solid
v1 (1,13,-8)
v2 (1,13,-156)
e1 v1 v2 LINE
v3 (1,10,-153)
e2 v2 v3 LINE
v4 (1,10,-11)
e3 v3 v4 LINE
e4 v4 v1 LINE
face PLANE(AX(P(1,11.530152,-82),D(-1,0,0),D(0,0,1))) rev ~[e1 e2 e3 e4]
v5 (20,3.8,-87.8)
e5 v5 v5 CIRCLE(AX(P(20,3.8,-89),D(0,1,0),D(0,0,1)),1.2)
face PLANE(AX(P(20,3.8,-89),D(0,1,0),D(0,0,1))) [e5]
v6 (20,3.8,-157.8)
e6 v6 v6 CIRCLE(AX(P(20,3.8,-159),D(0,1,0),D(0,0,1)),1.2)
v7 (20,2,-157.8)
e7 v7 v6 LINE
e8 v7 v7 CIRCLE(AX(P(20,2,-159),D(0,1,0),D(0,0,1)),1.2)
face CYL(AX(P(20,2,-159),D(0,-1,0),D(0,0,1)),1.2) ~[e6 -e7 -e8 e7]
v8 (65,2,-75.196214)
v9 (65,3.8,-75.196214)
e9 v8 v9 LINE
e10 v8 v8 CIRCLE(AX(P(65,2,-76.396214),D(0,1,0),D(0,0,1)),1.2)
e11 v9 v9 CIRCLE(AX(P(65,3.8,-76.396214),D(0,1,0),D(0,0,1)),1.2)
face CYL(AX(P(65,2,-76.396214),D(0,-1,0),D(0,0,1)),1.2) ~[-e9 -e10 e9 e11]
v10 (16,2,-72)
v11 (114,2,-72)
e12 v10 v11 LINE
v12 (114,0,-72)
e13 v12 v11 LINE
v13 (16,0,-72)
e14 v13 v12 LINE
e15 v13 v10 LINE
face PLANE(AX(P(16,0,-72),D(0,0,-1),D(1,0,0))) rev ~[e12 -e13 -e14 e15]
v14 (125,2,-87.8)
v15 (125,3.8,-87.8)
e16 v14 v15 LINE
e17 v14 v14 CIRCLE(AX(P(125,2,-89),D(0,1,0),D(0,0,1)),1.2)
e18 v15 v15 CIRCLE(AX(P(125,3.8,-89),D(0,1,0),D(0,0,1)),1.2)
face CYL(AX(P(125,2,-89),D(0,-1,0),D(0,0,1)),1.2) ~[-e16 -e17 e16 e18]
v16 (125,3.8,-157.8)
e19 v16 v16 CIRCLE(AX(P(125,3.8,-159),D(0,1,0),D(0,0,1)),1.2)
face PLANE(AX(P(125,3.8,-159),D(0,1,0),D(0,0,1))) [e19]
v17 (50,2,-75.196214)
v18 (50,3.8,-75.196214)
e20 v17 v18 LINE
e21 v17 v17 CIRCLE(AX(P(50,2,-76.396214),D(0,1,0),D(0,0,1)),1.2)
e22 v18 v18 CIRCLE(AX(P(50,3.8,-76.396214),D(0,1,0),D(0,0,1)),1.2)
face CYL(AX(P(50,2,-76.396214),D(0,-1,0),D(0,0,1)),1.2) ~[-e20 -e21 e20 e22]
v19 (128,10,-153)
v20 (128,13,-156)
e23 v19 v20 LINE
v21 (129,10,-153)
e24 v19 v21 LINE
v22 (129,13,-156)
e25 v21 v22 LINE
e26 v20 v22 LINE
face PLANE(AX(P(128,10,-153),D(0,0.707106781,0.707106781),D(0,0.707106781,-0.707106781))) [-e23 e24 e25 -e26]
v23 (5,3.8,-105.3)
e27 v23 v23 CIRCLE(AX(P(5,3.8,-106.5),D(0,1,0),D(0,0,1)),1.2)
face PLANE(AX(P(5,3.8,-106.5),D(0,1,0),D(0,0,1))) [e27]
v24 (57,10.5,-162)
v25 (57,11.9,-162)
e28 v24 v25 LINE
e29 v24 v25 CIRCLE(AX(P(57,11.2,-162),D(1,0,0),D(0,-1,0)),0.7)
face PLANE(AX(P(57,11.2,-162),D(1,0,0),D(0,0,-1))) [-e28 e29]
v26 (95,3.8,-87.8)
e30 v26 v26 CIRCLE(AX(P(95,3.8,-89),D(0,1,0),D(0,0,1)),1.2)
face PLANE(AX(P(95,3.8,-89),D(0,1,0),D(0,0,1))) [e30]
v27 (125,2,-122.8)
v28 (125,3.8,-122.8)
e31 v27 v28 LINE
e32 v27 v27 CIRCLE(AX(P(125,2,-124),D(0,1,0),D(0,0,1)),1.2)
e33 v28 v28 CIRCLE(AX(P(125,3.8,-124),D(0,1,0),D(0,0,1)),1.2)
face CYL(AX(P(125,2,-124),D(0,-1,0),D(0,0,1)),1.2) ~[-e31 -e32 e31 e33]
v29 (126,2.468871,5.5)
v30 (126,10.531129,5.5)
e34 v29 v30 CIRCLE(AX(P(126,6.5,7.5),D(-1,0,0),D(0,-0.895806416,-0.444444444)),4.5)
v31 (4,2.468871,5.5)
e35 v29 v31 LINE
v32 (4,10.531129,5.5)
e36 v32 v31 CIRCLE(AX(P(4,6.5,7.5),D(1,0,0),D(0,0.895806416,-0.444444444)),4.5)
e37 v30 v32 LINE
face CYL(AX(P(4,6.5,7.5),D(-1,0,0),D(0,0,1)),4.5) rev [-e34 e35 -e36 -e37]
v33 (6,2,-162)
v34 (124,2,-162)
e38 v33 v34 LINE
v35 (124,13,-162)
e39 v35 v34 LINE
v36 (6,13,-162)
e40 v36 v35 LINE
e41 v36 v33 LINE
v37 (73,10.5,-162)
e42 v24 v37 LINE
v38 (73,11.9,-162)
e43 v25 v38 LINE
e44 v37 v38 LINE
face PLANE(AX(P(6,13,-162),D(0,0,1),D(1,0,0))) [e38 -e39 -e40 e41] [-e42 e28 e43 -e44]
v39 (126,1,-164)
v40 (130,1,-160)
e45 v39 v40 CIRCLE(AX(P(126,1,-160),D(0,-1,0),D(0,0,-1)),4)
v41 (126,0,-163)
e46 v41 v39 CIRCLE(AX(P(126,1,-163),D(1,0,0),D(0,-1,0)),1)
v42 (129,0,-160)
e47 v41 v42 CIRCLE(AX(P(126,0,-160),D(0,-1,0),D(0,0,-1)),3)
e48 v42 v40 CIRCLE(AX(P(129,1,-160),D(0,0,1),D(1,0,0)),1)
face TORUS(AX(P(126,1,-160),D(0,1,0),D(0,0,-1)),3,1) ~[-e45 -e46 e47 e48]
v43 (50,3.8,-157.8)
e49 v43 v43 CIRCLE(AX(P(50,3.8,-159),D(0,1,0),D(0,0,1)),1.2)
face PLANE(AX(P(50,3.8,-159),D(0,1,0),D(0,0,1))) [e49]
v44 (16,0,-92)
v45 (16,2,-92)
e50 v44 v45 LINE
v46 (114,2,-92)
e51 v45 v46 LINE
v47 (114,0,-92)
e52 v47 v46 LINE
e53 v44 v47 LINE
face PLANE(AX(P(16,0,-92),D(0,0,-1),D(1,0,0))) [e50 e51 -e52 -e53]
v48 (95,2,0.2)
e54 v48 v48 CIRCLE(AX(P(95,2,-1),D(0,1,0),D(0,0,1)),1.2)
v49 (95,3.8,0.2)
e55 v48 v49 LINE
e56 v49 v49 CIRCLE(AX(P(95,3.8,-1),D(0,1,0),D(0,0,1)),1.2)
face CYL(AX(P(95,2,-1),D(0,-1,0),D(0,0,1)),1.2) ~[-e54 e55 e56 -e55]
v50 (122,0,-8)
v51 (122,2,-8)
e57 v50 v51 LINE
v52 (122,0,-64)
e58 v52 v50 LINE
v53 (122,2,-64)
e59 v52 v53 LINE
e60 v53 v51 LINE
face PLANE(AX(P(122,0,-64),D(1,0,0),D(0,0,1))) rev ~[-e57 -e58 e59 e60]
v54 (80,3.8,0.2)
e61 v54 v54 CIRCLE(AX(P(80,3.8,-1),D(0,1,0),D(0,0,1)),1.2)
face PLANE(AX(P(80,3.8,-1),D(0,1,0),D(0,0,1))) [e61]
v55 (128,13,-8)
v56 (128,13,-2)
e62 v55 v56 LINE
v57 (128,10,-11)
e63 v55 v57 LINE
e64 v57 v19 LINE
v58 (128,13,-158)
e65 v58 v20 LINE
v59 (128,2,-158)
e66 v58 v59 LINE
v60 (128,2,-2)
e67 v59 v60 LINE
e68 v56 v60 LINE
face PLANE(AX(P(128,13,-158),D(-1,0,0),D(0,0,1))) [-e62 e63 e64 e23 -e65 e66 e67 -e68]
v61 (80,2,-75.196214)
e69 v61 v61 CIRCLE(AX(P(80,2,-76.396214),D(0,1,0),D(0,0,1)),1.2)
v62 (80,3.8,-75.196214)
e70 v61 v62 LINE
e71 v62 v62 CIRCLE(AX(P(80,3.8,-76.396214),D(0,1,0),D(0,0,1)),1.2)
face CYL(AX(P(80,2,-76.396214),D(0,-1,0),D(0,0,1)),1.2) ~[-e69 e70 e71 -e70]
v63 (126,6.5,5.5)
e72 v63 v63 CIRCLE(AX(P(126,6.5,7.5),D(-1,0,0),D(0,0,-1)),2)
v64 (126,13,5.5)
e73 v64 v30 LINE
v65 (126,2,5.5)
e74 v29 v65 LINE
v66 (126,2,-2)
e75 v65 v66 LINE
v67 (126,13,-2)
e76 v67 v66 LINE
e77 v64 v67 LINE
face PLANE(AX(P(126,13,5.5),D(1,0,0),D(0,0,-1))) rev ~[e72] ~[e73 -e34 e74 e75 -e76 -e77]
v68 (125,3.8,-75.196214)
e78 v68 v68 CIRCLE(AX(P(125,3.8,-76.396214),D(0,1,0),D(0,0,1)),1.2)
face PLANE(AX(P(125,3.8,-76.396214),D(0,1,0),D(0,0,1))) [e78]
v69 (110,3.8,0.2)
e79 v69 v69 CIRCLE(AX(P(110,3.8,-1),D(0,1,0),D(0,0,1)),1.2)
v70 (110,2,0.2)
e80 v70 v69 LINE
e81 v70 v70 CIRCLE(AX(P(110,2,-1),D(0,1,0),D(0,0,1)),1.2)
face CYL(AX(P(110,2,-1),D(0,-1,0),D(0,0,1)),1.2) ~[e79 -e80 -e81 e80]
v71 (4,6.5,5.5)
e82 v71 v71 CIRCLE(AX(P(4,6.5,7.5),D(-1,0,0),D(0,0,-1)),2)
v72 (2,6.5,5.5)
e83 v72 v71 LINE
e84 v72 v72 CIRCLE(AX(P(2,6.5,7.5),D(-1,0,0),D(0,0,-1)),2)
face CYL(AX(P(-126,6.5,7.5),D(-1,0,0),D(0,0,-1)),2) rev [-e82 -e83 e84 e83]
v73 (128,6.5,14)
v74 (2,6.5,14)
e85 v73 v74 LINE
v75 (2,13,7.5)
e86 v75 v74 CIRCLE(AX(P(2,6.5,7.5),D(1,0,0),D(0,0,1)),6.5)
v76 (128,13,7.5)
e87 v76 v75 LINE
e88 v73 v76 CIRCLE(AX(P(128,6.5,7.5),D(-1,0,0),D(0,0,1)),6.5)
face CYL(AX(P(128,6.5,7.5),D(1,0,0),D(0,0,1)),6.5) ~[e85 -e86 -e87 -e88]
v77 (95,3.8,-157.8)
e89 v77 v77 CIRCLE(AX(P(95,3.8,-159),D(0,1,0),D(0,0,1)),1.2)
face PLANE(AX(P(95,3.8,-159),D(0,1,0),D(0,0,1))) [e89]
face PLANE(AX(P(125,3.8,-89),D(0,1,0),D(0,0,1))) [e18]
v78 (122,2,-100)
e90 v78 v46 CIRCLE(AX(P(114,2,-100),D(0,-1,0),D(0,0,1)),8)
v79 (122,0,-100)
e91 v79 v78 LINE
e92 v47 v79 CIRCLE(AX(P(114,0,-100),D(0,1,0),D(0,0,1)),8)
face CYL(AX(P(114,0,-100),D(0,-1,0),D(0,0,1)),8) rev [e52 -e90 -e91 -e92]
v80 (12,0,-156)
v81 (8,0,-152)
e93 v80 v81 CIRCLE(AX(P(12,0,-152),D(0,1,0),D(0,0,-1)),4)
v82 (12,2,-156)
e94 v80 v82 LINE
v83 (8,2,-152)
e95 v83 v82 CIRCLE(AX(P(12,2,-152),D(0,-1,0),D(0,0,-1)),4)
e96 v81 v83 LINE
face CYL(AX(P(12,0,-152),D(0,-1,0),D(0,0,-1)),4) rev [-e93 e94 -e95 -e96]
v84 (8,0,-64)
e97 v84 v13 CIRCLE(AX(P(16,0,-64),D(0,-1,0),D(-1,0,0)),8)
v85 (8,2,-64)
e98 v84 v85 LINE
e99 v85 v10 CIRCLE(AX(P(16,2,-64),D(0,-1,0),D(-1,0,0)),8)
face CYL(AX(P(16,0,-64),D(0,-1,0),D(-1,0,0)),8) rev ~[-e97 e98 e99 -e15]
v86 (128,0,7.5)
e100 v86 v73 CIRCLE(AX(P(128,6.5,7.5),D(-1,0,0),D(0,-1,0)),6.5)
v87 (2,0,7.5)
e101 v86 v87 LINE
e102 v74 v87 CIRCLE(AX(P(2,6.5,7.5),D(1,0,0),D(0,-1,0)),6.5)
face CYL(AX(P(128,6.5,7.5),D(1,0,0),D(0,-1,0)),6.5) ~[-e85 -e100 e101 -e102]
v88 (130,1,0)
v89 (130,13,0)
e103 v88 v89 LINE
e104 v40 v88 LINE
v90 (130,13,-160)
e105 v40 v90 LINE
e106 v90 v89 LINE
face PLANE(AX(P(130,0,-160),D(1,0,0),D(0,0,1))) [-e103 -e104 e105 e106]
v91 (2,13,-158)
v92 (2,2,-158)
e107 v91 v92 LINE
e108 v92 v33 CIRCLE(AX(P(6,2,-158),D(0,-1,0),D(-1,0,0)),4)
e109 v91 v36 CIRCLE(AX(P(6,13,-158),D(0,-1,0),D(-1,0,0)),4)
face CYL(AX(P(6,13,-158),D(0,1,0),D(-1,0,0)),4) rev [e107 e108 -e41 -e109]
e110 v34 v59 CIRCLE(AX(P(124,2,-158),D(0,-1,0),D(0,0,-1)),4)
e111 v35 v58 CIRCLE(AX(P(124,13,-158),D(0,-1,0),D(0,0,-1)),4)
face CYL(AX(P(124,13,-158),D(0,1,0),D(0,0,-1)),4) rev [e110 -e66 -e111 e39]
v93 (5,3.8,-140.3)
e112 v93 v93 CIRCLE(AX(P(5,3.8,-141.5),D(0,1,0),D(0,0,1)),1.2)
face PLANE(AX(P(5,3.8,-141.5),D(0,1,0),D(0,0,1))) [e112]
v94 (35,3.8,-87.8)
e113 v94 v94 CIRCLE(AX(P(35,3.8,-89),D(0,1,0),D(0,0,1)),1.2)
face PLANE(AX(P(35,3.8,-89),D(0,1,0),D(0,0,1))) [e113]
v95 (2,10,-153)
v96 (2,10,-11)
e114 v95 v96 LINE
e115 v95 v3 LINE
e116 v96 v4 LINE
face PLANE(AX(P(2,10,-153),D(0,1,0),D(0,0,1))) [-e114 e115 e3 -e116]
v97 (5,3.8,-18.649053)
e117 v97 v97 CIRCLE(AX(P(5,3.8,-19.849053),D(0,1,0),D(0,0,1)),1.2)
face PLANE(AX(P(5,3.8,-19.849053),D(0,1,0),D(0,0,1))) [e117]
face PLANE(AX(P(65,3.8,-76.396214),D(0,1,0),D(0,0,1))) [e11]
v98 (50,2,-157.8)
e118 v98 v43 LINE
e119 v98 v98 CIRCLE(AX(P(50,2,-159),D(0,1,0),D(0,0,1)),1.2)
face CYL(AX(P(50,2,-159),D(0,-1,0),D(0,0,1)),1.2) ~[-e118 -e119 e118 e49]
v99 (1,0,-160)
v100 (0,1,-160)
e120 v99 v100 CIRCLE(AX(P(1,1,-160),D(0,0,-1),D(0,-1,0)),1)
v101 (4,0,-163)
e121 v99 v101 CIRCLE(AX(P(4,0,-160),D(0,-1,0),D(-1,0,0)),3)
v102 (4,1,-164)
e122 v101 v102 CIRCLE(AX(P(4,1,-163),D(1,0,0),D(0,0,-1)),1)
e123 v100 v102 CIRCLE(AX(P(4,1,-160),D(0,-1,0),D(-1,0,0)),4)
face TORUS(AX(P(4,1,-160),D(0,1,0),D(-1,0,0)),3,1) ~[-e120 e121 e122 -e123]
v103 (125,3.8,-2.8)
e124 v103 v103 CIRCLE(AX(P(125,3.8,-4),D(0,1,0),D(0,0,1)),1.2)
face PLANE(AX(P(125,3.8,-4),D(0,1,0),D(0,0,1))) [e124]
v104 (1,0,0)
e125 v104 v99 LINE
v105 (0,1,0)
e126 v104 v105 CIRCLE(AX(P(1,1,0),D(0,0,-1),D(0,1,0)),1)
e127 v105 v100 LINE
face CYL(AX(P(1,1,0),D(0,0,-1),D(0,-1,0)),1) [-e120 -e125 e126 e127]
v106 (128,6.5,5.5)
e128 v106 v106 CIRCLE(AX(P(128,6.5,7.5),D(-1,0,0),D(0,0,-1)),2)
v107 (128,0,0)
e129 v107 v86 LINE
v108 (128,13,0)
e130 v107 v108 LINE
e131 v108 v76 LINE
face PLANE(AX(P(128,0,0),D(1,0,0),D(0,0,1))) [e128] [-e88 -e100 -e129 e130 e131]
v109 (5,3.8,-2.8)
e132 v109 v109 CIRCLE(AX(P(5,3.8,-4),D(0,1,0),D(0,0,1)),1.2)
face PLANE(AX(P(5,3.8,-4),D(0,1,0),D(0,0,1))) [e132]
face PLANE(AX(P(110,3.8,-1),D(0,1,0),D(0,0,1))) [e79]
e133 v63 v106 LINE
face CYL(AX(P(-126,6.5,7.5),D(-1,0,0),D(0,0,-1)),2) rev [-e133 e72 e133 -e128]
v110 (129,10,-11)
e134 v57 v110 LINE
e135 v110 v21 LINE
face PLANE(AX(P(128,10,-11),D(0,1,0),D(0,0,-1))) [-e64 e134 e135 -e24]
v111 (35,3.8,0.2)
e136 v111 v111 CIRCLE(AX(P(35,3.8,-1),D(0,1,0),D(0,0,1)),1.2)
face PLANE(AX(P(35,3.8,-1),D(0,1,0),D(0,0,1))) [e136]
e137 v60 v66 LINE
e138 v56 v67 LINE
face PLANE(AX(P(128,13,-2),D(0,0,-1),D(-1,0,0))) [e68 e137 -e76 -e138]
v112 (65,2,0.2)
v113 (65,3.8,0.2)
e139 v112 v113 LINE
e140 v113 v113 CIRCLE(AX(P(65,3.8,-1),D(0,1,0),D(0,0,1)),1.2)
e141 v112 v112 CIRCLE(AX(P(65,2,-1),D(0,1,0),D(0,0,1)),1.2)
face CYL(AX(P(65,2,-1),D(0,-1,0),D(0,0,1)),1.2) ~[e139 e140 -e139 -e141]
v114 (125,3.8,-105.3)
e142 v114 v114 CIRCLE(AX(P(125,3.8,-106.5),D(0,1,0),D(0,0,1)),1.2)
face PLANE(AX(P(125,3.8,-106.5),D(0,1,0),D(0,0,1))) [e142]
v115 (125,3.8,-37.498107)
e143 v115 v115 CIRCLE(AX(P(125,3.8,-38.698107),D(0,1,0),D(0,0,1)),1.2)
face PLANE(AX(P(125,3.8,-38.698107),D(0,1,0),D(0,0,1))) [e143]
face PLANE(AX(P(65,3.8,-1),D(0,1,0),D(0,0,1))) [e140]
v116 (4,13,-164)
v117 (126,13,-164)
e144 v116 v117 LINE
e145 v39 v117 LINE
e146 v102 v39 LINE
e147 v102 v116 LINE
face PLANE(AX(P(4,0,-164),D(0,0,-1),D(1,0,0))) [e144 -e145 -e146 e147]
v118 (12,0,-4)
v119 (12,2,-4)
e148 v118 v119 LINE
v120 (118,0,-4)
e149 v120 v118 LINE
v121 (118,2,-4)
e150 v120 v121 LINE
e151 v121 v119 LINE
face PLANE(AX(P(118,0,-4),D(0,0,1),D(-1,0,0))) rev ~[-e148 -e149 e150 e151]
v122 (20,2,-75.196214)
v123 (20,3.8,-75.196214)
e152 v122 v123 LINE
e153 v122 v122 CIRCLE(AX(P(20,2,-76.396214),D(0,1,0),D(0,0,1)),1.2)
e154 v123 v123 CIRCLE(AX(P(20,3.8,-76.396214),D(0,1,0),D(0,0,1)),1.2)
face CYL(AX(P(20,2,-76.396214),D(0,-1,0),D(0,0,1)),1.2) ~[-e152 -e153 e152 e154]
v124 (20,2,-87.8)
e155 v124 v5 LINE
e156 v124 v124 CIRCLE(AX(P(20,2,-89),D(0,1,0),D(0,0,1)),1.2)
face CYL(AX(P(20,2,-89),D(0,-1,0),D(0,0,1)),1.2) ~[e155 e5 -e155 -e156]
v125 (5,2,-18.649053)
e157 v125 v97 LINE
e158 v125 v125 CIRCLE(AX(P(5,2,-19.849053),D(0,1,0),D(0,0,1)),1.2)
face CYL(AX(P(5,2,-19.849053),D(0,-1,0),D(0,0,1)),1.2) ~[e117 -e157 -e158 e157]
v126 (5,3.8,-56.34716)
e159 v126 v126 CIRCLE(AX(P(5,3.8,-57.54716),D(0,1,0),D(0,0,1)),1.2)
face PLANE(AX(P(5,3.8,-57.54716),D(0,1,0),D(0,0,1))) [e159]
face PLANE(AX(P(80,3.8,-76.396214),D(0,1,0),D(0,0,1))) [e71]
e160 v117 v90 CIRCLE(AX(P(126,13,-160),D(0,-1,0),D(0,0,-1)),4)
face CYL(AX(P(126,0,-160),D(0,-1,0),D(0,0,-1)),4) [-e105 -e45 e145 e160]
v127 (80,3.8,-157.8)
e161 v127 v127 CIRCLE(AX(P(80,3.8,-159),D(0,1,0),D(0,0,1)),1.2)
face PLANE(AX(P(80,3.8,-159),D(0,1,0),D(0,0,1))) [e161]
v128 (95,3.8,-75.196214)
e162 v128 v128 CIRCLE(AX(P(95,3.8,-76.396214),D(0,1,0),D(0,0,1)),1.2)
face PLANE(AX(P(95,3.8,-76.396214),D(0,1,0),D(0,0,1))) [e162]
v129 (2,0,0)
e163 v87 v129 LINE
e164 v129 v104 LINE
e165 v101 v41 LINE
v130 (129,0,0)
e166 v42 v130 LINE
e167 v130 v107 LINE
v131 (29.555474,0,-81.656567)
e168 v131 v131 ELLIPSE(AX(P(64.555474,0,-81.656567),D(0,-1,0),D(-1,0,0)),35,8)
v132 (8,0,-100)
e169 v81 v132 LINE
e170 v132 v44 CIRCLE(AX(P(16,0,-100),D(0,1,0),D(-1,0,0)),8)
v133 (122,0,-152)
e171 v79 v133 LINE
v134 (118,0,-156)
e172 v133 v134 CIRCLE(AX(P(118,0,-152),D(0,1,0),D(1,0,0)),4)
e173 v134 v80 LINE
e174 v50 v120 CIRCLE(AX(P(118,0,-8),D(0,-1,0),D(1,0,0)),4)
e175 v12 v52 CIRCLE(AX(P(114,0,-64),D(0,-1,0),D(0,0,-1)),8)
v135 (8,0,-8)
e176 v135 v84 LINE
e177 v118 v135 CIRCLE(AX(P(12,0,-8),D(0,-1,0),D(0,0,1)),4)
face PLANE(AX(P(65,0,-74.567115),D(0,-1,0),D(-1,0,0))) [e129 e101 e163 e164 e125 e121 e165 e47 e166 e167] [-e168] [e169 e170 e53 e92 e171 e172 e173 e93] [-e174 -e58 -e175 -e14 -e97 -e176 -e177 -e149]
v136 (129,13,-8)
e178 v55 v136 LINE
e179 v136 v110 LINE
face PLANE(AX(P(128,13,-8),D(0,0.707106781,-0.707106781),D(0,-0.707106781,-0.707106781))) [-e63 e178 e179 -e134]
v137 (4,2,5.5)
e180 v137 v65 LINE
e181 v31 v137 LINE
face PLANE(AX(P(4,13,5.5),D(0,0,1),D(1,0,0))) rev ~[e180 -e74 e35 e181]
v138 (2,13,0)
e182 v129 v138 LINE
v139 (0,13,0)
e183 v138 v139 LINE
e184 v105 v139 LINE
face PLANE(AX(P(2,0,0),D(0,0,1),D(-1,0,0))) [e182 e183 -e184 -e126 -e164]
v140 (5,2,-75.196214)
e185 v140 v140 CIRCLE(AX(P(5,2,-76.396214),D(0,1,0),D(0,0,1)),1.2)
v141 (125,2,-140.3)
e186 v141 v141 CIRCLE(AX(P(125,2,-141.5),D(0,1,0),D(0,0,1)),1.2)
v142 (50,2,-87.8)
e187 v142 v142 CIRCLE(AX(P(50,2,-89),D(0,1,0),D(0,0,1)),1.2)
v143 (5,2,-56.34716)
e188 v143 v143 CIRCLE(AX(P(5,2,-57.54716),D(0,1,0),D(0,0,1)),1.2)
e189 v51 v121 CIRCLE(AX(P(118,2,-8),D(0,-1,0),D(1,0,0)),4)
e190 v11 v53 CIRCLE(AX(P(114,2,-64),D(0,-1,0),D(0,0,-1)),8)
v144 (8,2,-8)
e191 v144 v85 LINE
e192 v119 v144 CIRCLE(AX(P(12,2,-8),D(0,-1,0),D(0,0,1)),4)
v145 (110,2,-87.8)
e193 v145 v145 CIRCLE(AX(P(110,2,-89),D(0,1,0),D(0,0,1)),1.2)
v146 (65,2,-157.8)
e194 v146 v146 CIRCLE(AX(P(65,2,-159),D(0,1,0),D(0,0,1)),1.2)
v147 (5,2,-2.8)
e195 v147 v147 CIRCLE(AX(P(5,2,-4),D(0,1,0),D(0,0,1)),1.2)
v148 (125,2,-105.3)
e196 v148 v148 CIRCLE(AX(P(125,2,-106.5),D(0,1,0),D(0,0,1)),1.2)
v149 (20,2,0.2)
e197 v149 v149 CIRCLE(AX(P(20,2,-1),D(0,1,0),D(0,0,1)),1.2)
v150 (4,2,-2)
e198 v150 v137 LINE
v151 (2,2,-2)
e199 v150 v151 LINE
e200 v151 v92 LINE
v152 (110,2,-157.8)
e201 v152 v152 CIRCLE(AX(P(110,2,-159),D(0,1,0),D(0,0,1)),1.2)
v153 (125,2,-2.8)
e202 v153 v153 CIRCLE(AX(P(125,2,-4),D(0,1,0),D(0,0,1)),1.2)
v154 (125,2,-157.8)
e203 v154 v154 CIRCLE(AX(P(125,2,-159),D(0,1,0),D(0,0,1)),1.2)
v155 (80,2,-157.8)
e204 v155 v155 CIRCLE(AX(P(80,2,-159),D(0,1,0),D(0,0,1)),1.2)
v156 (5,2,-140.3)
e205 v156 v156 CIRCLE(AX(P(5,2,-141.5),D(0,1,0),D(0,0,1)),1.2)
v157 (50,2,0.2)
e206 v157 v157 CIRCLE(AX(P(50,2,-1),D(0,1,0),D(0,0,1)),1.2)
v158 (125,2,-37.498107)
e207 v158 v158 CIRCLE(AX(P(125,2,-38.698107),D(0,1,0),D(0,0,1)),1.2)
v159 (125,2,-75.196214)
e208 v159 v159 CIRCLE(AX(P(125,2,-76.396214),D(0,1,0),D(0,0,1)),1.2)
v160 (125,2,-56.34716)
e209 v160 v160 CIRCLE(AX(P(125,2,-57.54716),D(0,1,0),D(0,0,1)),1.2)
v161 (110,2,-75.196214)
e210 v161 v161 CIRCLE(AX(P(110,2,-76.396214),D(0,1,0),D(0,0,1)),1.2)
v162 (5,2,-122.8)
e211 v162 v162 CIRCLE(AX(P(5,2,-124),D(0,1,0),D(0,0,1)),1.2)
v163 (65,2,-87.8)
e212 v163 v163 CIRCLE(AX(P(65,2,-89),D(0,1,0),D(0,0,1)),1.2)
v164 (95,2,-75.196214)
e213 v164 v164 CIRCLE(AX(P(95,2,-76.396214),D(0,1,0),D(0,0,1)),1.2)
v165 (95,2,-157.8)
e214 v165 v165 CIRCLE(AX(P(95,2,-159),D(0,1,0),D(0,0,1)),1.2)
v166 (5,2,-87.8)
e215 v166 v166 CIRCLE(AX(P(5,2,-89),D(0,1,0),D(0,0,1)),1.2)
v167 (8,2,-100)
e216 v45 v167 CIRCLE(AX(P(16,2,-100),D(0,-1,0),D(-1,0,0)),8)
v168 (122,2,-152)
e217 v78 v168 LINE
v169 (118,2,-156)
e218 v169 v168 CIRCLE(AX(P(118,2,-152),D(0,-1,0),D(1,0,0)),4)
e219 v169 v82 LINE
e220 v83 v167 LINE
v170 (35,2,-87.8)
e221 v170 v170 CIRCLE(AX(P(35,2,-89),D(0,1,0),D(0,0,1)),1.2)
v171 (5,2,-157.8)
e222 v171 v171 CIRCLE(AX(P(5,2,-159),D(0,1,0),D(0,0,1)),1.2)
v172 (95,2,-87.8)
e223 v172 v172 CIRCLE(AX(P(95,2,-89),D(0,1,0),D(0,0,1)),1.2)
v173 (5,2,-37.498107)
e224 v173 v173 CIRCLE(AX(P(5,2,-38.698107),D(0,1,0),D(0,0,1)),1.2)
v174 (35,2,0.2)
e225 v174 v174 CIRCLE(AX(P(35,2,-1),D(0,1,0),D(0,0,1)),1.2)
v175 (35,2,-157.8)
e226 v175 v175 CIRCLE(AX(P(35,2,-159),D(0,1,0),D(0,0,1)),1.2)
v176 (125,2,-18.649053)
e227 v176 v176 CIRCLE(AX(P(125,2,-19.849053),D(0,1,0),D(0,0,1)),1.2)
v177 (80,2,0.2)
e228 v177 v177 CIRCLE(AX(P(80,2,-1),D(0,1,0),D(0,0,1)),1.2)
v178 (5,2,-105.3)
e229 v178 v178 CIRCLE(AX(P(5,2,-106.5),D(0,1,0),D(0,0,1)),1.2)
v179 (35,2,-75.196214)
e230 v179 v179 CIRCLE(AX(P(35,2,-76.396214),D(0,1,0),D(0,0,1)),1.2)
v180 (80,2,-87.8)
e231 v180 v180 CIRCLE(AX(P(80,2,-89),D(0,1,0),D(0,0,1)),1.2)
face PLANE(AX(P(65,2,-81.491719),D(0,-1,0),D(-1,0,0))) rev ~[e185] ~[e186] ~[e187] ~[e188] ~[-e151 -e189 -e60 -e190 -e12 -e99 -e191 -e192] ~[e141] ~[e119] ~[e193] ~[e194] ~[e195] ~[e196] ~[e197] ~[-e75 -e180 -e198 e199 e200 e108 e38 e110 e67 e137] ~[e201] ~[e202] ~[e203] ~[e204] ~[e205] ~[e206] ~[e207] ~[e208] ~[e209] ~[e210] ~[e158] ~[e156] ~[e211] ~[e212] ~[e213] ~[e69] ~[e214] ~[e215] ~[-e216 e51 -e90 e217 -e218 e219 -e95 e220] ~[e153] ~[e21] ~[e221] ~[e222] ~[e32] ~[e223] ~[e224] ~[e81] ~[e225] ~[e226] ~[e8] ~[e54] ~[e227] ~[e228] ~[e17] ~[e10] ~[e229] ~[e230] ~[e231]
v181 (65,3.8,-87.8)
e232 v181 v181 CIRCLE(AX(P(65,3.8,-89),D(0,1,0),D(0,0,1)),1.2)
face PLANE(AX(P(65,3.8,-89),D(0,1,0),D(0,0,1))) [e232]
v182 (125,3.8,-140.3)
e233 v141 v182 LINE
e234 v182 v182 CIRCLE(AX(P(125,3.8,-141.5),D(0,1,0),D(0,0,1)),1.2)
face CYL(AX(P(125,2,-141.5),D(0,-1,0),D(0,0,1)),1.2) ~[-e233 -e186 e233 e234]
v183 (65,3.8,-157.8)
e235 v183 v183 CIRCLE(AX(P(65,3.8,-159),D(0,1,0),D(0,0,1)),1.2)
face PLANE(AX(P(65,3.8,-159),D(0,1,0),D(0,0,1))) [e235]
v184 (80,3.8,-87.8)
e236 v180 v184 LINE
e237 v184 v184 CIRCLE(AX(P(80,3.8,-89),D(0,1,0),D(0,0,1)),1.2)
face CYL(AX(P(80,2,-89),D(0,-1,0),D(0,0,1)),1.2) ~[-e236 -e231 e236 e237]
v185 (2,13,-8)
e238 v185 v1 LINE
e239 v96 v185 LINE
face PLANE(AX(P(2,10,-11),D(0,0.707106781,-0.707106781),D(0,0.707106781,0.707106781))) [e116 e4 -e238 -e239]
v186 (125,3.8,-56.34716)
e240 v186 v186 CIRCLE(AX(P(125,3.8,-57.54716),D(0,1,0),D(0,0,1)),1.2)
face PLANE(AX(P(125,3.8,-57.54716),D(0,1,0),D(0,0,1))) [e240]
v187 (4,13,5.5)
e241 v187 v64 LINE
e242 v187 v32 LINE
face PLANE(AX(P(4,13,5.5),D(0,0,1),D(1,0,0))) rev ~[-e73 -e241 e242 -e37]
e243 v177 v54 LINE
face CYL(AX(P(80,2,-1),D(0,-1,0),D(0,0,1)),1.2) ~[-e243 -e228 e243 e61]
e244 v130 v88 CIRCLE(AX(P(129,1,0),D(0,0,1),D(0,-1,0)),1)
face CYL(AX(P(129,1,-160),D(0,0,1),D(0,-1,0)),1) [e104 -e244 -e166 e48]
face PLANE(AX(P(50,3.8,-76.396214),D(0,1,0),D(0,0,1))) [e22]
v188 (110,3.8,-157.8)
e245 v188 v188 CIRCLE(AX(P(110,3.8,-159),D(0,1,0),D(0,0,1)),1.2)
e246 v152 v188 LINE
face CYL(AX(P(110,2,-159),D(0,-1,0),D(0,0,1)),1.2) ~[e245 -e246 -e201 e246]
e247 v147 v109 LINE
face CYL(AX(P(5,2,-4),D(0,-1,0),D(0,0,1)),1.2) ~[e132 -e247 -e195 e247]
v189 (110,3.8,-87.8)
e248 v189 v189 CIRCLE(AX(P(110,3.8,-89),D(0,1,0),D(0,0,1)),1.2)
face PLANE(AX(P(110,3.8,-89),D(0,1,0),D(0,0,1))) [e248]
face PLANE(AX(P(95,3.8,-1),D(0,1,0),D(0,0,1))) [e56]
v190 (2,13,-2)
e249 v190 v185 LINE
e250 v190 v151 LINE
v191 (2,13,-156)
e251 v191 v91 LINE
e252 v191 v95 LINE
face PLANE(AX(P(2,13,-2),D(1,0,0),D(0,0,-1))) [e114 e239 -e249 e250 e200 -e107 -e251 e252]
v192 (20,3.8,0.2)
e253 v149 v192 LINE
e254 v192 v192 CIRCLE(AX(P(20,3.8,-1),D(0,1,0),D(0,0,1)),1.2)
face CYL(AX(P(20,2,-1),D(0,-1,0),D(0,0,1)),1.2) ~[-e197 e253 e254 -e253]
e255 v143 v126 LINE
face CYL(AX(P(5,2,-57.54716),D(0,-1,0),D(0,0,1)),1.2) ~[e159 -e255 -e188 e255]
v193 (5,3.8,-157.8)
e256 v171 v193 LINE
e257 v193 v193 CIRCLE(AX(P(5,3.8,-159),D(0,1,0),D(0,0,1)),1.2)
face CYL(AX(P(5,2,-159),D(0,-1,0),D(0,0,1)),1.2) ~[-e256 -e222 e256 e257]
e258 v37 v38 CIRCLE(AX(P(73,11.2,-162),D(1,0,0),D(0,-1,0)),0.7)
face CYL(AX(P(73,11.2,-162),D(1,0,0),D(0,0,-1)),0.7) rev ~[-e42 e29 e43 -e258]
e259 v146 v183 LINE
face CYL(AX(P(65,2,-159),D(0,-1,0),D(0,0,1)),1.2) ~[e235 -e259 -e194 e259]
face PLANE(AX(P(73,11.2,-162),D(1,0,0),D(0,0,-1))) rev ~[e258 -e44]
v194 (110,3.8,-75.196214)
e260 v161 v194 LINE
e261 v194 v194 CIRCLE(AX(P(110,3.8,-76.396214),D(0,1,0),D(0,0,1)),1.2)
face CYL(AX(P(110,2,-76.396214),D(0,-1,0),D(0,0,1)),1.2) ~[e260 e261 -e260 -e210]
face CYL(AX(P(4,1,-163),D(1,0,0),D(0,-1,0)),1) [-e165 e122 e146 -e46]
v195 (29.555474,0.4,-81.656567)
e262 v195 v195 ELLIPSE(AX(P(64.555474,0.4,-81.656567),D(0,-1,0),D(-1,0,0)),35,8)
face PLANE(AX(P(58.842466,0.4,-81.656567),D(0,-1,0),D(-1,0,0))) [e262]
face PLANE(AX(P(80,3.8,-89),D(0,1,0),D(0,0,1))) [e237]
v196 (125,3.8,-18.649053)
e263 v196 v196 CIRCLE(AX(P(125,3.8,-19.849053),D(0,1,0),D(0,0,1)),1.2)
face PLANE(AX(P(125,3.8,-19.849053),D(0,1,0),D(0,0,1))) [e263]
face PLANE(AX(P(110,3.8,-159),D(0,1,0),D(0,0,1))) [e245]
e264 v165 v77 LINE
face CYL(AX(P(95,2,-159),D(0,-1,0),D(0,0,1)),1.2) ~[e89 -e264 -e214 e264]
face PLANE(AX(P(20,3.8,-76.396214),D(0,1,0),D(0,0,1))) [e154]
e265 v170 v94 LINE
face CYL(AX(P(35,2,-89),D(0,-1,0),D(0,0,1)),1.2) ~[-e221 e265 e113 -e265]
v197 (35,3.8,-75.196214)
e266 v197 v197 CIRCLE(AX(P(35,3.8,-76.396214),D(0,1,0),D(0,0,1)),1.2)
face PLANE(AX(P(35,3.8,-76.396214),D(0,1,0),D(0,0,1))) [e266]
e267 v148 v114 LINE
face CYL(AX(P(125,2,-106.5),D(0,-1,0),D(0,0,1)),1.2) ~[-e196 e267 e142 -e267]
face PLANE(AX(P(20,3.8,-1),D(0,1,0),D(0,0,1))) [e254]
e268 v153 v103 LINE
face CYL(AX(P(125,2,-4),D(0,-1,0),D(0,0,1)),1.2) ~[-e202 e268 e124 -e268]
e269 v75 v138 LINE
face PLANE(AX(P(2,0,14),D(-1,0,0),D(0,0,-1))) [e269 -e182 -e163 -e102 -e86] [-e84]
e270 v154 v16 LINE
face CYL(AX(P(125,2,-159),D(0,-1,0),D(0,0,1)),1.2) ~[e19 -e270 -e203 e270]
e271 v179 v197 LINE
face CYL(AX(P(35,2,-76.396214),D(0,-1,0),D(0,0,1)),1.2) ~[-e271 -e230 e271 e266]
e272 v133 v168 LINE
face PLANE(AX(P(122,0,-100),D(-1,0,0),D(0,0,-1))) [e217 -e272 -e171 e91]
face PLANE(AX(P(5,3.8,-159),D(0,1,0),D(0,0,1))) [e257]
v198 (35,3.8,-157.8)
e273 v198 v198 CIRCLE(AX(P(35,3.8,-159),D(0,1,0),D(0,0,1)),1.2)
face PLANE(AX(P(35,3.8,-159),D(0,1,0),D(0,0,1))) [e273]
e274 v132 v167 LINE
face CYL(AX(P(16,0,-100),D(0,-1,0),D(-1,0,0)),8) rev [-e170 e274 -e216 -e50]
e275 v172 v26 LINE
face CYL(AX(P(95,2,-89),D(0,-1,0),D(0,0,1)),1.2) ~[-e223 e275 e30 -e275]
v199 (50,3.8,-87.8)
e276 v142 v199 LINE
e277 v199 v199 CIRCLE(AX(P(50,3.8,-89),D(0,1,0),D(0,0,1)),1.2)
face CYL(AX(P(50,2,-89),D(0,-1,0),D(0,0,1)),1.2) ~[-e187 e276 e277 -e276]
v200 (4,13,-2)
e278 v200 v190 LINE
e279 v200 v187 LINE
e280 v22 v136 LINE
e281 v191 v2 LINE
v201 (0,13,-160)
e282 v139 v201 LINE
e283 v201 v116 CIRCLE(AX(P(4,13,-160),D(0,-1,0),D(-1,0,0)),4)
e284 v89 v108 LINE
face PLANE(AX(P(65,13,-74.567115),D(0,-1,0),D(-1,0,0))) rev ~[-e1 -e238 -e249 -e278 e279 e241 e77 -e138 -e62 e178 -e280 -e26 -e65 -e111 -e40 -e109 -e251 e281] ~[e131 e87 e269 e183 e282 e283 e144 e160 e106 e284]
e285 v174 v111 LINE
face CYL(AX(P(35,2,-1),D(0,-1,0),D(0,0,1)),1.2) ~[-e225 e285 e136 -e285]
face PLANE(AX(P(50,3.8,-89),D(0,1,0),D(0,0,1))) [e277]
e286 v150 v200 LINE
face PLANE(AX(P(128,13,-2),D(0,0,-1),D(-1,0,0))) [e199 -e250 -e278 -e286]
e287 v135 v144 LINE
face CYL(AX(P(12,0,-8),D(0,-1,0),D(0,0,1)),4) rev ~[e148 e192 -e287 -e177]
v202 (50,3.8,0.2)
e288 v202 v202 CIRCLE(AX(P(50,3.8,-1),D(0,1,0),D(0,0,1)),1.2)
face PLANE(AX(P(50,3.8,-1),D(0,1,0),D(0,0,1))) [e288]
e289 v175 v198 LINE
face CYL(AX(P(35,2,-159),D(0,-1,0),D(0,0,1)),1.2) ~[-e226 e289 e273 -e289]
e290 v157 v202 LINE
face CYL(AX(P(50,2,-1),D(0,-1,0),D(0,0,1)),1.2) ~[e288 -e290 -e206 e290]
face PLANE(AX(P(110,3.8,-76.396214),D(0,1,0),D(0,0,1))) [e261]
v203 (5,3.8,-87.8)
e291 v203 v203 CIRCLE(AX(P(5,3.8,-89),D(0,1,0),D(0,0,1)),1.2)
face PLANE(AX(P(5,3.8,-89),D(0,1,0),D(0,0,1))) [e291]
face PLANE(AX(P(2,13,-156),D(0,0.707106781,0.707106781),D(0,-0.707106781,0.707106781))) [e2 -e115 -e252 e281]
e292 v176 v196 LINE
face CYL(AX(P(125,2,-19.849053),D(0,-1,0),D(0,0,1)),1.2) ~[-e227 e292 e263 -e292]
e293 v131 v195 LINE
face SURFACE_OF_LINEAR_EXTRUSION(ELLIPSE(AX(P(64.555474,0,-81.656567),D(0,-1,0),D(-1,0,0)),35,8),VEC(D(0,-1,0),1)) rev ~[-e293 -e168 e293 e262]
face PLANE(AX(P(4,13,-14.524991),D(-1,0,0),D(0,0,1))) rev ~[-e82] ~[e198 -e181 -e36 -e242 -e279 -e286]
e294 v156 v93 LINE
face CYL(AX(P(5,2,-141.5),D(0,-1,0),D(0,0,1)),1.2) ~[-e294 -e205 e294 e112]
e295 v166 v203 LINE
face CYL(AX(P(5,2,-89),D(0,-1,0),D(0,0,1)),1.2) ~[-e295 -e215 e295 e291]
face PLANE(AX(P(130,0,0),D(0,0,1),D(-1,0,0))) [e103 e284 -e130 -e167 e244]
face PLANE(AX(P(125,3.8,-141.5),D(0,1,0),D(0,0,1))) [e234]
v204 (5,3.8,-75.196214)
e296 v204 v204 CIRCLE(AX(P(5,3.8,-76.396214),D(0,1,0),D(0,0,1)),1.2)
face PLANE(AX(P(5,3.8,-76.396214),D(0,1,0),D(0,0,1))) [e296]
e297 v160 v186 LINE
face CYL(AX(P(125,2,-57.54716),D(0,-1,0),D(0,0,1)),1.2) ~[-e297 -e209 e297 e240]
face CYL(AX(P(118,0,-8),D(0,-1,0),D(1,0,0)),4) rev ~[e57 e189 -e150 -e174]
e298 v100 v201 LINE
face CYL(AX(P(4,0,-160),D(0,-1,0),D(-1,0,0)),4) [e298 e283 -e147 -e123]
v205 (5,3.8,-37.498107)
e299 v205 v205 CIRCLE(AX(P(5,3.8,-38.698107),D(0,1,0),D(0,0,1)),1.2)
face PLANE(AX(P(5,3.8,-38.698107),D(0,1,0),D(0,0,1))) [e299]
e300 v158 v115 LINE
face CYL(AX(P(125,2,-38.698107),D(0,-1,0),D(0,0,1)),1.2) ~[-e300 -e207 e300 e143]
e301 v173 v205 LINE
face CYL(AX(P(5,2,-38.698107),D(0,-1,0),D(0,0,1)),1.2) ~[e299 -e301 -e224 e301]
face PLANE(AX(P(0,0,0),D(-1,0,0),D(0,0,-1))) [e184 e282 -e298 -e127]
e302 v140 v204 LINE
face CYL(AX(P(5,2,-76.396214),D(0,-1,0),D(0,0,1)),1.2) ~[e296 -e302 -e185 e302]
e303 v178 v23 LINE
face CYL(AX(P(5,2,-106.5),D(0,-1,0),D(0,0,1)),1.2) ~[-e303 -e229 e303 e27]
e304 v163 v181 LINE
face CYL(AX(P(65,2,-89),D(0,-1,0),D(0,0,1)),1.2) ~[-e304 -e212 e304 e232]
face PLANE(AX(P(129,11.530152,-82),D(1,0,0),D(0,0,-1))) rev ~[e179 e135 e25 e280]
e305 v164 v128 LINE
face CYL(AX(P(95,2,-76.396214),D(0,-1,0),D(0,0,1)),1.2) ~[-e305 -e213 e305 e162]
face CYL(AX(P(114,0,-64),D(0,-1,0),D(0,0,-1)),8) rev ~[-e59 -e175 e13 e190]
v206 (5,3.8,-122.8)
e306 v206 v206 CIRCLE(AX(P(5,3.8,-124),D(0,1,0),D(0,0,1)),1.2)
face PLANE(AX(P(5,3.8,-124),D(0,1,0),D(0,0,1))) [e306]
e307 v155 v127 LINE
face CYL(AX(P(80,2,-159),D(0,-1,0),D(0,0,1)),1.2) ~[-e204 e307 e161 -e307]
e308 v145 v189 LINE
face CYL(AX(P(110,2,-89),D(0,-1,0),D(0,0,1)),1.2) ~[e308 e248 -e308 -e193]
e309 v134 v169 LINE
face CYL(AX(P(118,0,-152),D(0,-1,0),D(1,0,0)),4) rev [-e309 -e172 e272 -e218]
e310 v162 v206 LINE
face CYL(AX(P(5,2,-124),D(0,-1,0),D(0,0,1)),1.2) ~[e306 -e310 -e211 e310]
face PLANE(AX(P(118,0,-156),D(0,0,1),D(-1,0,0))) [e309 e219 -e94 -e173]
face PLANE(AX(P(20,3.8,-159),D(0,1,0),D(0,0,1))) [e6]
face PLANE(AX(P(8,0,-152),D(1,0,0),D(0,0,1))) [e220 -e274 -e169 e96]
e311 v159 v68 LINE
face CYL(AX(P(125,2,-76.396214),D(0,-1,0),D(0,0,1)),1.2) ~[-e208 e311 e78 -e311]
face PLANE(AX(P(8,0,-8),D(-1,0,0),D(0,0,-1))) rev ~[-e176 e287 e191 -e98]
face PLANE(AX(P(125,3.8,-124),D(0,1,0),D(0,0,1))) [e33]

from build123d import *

# Parameters (mm, degrees)
SALIENTE_EXTRUIR1_DEPTH     = 13
CORTAR_EXTRUIR7_DEPTH       = 11
CORTAR_EXTRUIR9_DEPTH       = 140
CROQUIS10_R                 = 4.5
CORTAR_EXTRUIR10_DEPTH      = 122
CROQUIS11_W                 = 122
CROQUIS11_H                 = 12.524990812
CORTAR_EXTRUIR12_DEPTH      = 11
CORTAR_EXTRUIR13_DEPTH      = 130
CORTAR_EXTRUIR13_DEPTH_BACK = 130
CROQUIS12_R                 = 2
REDONDEO1_R                 = 1
CORTAR_EXTRUIR14_DEPTH      = 1
CORTAR_EXTRUIR15_DEPTH      = 1
CORTAR_EXTRUIR17_DEPTH      = 4
CROQUIS21_RX                = 35
CROQUIS21_RY                = 8
CORTAR_EXTRUIR19_DEPTH      = 0.4
CROQUIS22_R                 = 1.2
SALIENTE_EXTRUIR3_DEPTH     = 1.8
CROQUIS25_R                 = 0.7
CORTAR_EXTRUIR20_DEPTH      = 16


with BuildPart() as part:
    # Croquis1 → Saliente-Extruir1 (new body)
    with BuildSketch(Plane(origin=(0, 0, 0), x_dir=(1, 0, 0), z_dir=(0, 1, 0))):
        with BuildLine():
            Line((130, 0), (128, 0))
            Line((128, 0), (128, -14))
            Line((128, -14), (2, -14))
            Line((2, -14), (2, 0))
            Line((2, 0), (0, 0))
            Line((0, 0), (0, 160))
            ThreePointArc((0, 160), (1.171572875, 162.828427125), (4, 164))
            Line((4, 164), (126, 164))
            ThreePointArc((126, 164), (128.828427125, 162.828427125), (130, 160))
            Line((130, 160), (130, 0))
        make_face()
    extrude(amount=SALIENTE_EXTRUIR1_DEPTH)

    # Croquis7 → Cortar-Extruir7 (cut)
    with BuildSketch(Plane(origin=(0, 13, 0), x_dir=(1, 0, 0), z_dir=(0, 1, 0))):
        with BuildLine():
            ThreePointArc((124, 162), (126.828427125, 160.828427125), (128, 158))
            Line((128, 158), (128, 2))
            Line((128, 2), (2, 2))
            Line((2, 2), (2, 158))
            ThreePointArc((2, 158), (3.171572875, 160.828427125), (6, 162))
            Line((6, 162), (62.001239157, 162))
            Line((62.001239157, 162), (124, 162))
        make_face()
    extrude(amount=-CORTAR_EXTRUIR7_DEPTH, mode=Mode.SUBTRACT)

    # Croquis8 → Cortar-Extruir9 (cut)
    with BuildSketch(Plane(origin=(128, 0, 0), x_dir=(0, 0, -1), z_dir=(1, 0, 0))):
        with BuildLine():
            ThreePointArc((-14, 6.5), (-12.096194078, 11.096194078), (-7.5, 13))
            Line((-7.5, 13), (-14, 13))
            Line((-14, 13), (-14, 6.5))
        make_face()
        with BuildLine():
            Line((-14, 0), (-7.5, 0))
            ThreePointArc((-7.5, 0), (-12.096194078, 1.903805922), (-14, 6.5))
            Line((-14, 6.5), (-14, 0))
        make_face()
    extrude(amount=-CORTAR_EXTRUIR9_DEPTH, mode=Mode.SUBTRACT)

    # Croquis10 → Cortar-Extruir10 (cut)
    with BuildSketch(Plane(origin=(4, 0, 0), x_dir=(0, 0, -1), z_dir=(1, 0, 0))):
        with Locations(Location((-7.5, 6.5, 0), (0, 0, 180))):
            Circle(CROQUIS10_R)
    extrude(amount=CORTAR_EXTRUIR10_DEPTH, mode=Mode.SUBTRACT)

    # Croquis11 → Cortar-Extruir12 (cut)
    with BuildSketch(Plane(origin=(0, 13, 0), x_dir=(1, 0, 0), z_dir=(0, 1, 0))):
        Polygon((4, 2), (4, -5.5), (6, -5.5), (126, -5.5), (126, 2), align=None)
        with Locations((65, 8.262495406)):
            Rectangle(CROQUIS11_W, CROQUIS11_H)
    extrude(amount=-CORTAR_EXTRUIR12_DEPTH, mode=Mode.SUBTRACT)

    # Croquis12 → Cortar-Extruir13 (cut, two sides: drawn at the far end of the back side and taken through both)
    with BuildSketch(Plane(origin=(4, 0, 0), x_dir=(0, 0, -1), z_dir=(1, 0, 0)).offset(-CORTAR_EXTRUIR13_DEPTH_BACK)):
        with Locations((-7.5, 6.5)):
            Circle(CROQUIS12_R)
    extrude(amount=CORTAR_EXTRUIR13_DEPTH + CORTAR_EXTRUIR13_DEPTH_BACK, mode=Mode.SUBTRACT)

    # Redondeo1
    redondeo1_edges = [part.edges().sort_by_distance(p)[0] for p in [
        (128.828427125, 0, -162.828427125),
        (130, 0, -80),
        (0, 0, -80),
        (1.171572875, 0, -162.828427125),
        (65, 0, -164),
    ]]
    fillet(redondeo1_edges, radius=REDONDEO1_R)

    # Croquis17 → Cortar-Extruir14 (cut)
    with BuildSketch(Plane(origin=(2, 0, 0), x_dir=(0, 0, -1), z_dir=(1, 0, 0))):
        Polygon((153, 10), (11, 10), (8, 13), (156, 13), align=None)
    extrude(amount=-CORTAR_EXTRUIR14_DEPTH, mode=Mode.SUBTRACT)

    # Croquis19 → Cortar-Extruir15 (cut)
    with BuildSketch(Plane(origin=(128, 0, 0), x_dir=(0, 0, -1), z_dir=(1, 0, 0))):
        Polygon((11, 10), (153, 10), (156, 13), (8, 13), align=None)
    extrude(amount=CORTAR_EXTRUIR15_DEPTH, mode=Mode.SUBTRACT)

    # Croquis20 → Cortar-Extruir17 (cut)
    with BuildSketch(Plane.XZ):
        with BuildLine():
            Line((85, -72), (114, -72))
            ThreePointArc((114, -72), (119.656854249, -69.656854249), (122, -64))
            Line((122, -64), (122, -24.159979327))
            Line((122, -24.159979327), (122, -8))
            ThreePointArc((122, -8), (120.828427125, -5.171572875), (118, -4))
            Line((118, -4), (12, -4))
            ThreePointArc((12, -4), (9.171572875, -5.171572875), (8, -8))
            Line((8, -8), (8, -64))
            ThreePointArc((8, -64), (10.343145751, -69.656854249), (16, -72))
            Line((16, -72), (45, -72))
            Line((45, -72), (85, -72))
        make_face()
        with BuildLine():
            Line((45, -92), (85, -92))
            Line((85, -92), (114, -92))
            ThreePointArc((114, -92), (119.656854249, -94.343145751), (122, -100))
            Line((122, -100), (122, -152))
            ThreePointArc((122, -152), (120.828427125, -154.828427125), (118, -156))
            Line((118, -156), (68.281659804, -156))
            Line((68.281659804, -156), (12, -156))
            ThreePointArc((12, -156), (9.171572875, -154.828427125), (8, -152))
            Line((8, -152), (8, -100))
            ThreePointArc((8, -100), (10.343145751, -94.343145751), (16, -92))
            Line((16, -92), (45, -92))
        make_face()
    extrude(amount=-CORTAR_EXTRUIR17_DEPTH, mode=Mode.SUBTRACT)

    # Croquis21 → Cortar-Extruir19 (cut)
    with BuildSketch(Plane.XZ):
        with Locations(Location((64.555474057, -81.656567249), (0, 0, 180))):
            Ellipse(CROQUIS21_RX, CROQUIS21_RY)
    extrude(amount=-CORTAR_EXTRUIR19_DEPTH, mode=Mode.SUBTRACT)

    # Croquis22 → Saliente-Extruir3 (add)
    with BuildSketch(Plane(origin=(0, 2, 0), x_dir=(1, 0, 0), z_dir=(0, 1, 0))):
        with Locations(Location((20, 159, 0), (0, 0, 270))):
            Circle(CROQUIS22_R)
        with Locations(Location((35, 159, 0), (0, 0, 270))):
            Circle(CROQUIS22_R)
        with Locations(Location((50, 159, 0), (0, 0, 270))):
            Circle(CROQUIS22_R)
        with Locations(Location((65, 159, 0), (0, 0, 270))):
            Circle(CROQUIS22_R)
        with Locations(Location((80, 159, 0), (0, 0, 270))):
            Circle(CROQUIS22_R)
        with Locations(Location((95, 159, 0), (0, 0, 270))):
            Circle(CROQUIS22_R)
        with Locations(Location((110, 159, 0), (0, 0, 270))):
            Circle(CROQUIS22_R)
        with Locations(Location((125, 159, 0), (0, 0, 270))):
            Circle(CROQUIS22_R)
        with Locations(Location((5, 159, 0), (0, 0, 270))):
            Circle(CROQUIS22_R)
        with Locations(Location((5, 89, 0), (0, 0, 270))):
            Circle(CROQUIS22_R)
        with Locations(Location((20, 89, 0), (0, 0, 270))):
            Circle(CROQUIS22_R)
        with Locations(Location((35, 89, 0), (0, 0, 270))):
            Circle(CROQUIS22_R)
        with Locations(Location((50, 89, 0), (0, 0, 270))):
            Circle(CROQUIS22_R)
        with Locations(Location((65, 89, 0), (0, 0, 270))):
            Circle(CROQUIS22_R)
        with Locations(Location((80, 89, 0), (0, 0, 270))):
            Circle(CROQUIS22_R)
        with Locations(Location((95, 89, 0), (0, 0, 270))):
            Circle(CROQUIS22_R)
        with Locations(Location((110, 89, 0), (0, 0, 270))):
            Circle(CROQUIS22_R)
        with Locations(Location((125, 89, 0), (0, 0, 270))):
            Circle(CROQUIS22_R)
        with Locations(Location((125, 76.396213734, 0), (0, 0, 270))):
            Circle(CROQUIS22_R)
        with Locations(Location((110, 76.396213734, 0), (0, 0, 270))):
            Circle(CROQUIS22_R)
        with Locations(Location((80, 76.396213734, 0), (0, 0, 270))):
            Circle(CROQUIS22_R)
        with Locations(Location((65, 76.396213734, 0), (0, 0, 270))):
            Circle(CROQUIS22_R)
        with Locations(Location((95, 76.396213734, 0), (0, 0, 270))):
            Circle(CROQUIS22_R)
        with Locations(Location((50, 76.396213734, 0), (0, 0, 270))):
            Circle(CROQUIS22_R)
        with Locations(Location((20, 76.396213734, 0), (0, 0, 270))):
            Circle(CROQUIS22_R)
        with Locations(Location((35, 76.396213734, 0), (0, 0, 270))):
            Circle(CROQUIS22_R)
        with Locations(Location((5, 76.396213734, 0), (0, 0, 270))):
            Circle(CROQUIS22_R)
        with Locations(Location((20, 1, 0), (0, 0, 270))):
            Circle(CROQUIS22_R)
        with Locations(Location((35, 1, 0), (0, 0, 270))):
            Circle(CROQUIS22_R)
        with Locations(Location((50, 1, 0), (0, 0, 270))):
            Circle(CROQUIS22_R)
        with Locations(Location((65, 1, 0), (0, 0, 270))):
            Circle(CROQUIS22_R)
        with Locations(Location((80, 1, 0), (0, 0, 270))):
            Circle(CROQUIS22_R)
        with Locations(Location((95, 1, 0), (0, 0, 270))):
            Circle(CROQUIS22_R)
        with Locations(Location((110, 1, 0), (0, 0, 270))):
            Circle(CROQUIS22_R)
        with Locations(Location((5, 38.698106867, 0), (0, 0, 270))):
            Circle(CROQUIS22_R)
        with Locations(Location((125, 38.698106867, 0), (0, 0, 270))):
            Circle(CROQUIS22_R)
        with Locations(Location((5, 57.5471603, 0), (0, 0, 270))):
            Circle(CROQUIS22_R)
        with Locations(Location((125, 57.5471603, 0), (0, 0, 270))):
            Circle(CROQUIS22_R)
        with Locations(Location((5, 19.849053433, 0), (0, 0, 270))):
            Circle(CROQUIS22_R)
        with Locations(Location((125, 19.849053433, 0), (0, 0, 270))):
            Circle(CROQUIS22_R)
        with Locations(Location((125, 4, 0), (0, 0, 270))):
            Circle(CROQUIS22_R)
        with Locations(Location((5, 4, 0), (0, 0, 270))):
            Circle(CROQUIS22_R)
        with Locations(Location((125, 141.5, 0), (0, 0, 270))):
            Circle(CROQUIS22_R)
        with Locations(Location((125, 124, 0), (0, 0, 270))):
            Circle(CROQUIS22_R)
        with Locations(Location((125, 106.5, 0), (0, 0, 270))):
            Circle(CROQUIS22_R)
        with Locations(Location((5, 141.5, 0), (0, 0, 270))):
            Circle(CROQUIS22_R)
        with Locations(Location((5, 124, 0), (0, 0, 270))):
            Circle(CROQUIS22_R)
        with Locations(Location((5, 106.5, 0), (0, 0, 270))):
            Circle(CROQUIS22_R)
    extrude(amount=SALIENTE_EXTRUIR3_DEPTH)

    # Croquis25 → Cortar-Extruir20 (cut)
    with BuildSketch(Plane(origin=(73, 0, 0), x_dir=(0, 0, -1), z_dir=(1, 0, 0))):
        with Locations((162, 11.2)):
            Circle(CROQUIS25_R)
    extrude(amount=-CORTAR_EXTRUIR20_DEPTH, mode=Mode.SUBTRACT)


solid = part.part
